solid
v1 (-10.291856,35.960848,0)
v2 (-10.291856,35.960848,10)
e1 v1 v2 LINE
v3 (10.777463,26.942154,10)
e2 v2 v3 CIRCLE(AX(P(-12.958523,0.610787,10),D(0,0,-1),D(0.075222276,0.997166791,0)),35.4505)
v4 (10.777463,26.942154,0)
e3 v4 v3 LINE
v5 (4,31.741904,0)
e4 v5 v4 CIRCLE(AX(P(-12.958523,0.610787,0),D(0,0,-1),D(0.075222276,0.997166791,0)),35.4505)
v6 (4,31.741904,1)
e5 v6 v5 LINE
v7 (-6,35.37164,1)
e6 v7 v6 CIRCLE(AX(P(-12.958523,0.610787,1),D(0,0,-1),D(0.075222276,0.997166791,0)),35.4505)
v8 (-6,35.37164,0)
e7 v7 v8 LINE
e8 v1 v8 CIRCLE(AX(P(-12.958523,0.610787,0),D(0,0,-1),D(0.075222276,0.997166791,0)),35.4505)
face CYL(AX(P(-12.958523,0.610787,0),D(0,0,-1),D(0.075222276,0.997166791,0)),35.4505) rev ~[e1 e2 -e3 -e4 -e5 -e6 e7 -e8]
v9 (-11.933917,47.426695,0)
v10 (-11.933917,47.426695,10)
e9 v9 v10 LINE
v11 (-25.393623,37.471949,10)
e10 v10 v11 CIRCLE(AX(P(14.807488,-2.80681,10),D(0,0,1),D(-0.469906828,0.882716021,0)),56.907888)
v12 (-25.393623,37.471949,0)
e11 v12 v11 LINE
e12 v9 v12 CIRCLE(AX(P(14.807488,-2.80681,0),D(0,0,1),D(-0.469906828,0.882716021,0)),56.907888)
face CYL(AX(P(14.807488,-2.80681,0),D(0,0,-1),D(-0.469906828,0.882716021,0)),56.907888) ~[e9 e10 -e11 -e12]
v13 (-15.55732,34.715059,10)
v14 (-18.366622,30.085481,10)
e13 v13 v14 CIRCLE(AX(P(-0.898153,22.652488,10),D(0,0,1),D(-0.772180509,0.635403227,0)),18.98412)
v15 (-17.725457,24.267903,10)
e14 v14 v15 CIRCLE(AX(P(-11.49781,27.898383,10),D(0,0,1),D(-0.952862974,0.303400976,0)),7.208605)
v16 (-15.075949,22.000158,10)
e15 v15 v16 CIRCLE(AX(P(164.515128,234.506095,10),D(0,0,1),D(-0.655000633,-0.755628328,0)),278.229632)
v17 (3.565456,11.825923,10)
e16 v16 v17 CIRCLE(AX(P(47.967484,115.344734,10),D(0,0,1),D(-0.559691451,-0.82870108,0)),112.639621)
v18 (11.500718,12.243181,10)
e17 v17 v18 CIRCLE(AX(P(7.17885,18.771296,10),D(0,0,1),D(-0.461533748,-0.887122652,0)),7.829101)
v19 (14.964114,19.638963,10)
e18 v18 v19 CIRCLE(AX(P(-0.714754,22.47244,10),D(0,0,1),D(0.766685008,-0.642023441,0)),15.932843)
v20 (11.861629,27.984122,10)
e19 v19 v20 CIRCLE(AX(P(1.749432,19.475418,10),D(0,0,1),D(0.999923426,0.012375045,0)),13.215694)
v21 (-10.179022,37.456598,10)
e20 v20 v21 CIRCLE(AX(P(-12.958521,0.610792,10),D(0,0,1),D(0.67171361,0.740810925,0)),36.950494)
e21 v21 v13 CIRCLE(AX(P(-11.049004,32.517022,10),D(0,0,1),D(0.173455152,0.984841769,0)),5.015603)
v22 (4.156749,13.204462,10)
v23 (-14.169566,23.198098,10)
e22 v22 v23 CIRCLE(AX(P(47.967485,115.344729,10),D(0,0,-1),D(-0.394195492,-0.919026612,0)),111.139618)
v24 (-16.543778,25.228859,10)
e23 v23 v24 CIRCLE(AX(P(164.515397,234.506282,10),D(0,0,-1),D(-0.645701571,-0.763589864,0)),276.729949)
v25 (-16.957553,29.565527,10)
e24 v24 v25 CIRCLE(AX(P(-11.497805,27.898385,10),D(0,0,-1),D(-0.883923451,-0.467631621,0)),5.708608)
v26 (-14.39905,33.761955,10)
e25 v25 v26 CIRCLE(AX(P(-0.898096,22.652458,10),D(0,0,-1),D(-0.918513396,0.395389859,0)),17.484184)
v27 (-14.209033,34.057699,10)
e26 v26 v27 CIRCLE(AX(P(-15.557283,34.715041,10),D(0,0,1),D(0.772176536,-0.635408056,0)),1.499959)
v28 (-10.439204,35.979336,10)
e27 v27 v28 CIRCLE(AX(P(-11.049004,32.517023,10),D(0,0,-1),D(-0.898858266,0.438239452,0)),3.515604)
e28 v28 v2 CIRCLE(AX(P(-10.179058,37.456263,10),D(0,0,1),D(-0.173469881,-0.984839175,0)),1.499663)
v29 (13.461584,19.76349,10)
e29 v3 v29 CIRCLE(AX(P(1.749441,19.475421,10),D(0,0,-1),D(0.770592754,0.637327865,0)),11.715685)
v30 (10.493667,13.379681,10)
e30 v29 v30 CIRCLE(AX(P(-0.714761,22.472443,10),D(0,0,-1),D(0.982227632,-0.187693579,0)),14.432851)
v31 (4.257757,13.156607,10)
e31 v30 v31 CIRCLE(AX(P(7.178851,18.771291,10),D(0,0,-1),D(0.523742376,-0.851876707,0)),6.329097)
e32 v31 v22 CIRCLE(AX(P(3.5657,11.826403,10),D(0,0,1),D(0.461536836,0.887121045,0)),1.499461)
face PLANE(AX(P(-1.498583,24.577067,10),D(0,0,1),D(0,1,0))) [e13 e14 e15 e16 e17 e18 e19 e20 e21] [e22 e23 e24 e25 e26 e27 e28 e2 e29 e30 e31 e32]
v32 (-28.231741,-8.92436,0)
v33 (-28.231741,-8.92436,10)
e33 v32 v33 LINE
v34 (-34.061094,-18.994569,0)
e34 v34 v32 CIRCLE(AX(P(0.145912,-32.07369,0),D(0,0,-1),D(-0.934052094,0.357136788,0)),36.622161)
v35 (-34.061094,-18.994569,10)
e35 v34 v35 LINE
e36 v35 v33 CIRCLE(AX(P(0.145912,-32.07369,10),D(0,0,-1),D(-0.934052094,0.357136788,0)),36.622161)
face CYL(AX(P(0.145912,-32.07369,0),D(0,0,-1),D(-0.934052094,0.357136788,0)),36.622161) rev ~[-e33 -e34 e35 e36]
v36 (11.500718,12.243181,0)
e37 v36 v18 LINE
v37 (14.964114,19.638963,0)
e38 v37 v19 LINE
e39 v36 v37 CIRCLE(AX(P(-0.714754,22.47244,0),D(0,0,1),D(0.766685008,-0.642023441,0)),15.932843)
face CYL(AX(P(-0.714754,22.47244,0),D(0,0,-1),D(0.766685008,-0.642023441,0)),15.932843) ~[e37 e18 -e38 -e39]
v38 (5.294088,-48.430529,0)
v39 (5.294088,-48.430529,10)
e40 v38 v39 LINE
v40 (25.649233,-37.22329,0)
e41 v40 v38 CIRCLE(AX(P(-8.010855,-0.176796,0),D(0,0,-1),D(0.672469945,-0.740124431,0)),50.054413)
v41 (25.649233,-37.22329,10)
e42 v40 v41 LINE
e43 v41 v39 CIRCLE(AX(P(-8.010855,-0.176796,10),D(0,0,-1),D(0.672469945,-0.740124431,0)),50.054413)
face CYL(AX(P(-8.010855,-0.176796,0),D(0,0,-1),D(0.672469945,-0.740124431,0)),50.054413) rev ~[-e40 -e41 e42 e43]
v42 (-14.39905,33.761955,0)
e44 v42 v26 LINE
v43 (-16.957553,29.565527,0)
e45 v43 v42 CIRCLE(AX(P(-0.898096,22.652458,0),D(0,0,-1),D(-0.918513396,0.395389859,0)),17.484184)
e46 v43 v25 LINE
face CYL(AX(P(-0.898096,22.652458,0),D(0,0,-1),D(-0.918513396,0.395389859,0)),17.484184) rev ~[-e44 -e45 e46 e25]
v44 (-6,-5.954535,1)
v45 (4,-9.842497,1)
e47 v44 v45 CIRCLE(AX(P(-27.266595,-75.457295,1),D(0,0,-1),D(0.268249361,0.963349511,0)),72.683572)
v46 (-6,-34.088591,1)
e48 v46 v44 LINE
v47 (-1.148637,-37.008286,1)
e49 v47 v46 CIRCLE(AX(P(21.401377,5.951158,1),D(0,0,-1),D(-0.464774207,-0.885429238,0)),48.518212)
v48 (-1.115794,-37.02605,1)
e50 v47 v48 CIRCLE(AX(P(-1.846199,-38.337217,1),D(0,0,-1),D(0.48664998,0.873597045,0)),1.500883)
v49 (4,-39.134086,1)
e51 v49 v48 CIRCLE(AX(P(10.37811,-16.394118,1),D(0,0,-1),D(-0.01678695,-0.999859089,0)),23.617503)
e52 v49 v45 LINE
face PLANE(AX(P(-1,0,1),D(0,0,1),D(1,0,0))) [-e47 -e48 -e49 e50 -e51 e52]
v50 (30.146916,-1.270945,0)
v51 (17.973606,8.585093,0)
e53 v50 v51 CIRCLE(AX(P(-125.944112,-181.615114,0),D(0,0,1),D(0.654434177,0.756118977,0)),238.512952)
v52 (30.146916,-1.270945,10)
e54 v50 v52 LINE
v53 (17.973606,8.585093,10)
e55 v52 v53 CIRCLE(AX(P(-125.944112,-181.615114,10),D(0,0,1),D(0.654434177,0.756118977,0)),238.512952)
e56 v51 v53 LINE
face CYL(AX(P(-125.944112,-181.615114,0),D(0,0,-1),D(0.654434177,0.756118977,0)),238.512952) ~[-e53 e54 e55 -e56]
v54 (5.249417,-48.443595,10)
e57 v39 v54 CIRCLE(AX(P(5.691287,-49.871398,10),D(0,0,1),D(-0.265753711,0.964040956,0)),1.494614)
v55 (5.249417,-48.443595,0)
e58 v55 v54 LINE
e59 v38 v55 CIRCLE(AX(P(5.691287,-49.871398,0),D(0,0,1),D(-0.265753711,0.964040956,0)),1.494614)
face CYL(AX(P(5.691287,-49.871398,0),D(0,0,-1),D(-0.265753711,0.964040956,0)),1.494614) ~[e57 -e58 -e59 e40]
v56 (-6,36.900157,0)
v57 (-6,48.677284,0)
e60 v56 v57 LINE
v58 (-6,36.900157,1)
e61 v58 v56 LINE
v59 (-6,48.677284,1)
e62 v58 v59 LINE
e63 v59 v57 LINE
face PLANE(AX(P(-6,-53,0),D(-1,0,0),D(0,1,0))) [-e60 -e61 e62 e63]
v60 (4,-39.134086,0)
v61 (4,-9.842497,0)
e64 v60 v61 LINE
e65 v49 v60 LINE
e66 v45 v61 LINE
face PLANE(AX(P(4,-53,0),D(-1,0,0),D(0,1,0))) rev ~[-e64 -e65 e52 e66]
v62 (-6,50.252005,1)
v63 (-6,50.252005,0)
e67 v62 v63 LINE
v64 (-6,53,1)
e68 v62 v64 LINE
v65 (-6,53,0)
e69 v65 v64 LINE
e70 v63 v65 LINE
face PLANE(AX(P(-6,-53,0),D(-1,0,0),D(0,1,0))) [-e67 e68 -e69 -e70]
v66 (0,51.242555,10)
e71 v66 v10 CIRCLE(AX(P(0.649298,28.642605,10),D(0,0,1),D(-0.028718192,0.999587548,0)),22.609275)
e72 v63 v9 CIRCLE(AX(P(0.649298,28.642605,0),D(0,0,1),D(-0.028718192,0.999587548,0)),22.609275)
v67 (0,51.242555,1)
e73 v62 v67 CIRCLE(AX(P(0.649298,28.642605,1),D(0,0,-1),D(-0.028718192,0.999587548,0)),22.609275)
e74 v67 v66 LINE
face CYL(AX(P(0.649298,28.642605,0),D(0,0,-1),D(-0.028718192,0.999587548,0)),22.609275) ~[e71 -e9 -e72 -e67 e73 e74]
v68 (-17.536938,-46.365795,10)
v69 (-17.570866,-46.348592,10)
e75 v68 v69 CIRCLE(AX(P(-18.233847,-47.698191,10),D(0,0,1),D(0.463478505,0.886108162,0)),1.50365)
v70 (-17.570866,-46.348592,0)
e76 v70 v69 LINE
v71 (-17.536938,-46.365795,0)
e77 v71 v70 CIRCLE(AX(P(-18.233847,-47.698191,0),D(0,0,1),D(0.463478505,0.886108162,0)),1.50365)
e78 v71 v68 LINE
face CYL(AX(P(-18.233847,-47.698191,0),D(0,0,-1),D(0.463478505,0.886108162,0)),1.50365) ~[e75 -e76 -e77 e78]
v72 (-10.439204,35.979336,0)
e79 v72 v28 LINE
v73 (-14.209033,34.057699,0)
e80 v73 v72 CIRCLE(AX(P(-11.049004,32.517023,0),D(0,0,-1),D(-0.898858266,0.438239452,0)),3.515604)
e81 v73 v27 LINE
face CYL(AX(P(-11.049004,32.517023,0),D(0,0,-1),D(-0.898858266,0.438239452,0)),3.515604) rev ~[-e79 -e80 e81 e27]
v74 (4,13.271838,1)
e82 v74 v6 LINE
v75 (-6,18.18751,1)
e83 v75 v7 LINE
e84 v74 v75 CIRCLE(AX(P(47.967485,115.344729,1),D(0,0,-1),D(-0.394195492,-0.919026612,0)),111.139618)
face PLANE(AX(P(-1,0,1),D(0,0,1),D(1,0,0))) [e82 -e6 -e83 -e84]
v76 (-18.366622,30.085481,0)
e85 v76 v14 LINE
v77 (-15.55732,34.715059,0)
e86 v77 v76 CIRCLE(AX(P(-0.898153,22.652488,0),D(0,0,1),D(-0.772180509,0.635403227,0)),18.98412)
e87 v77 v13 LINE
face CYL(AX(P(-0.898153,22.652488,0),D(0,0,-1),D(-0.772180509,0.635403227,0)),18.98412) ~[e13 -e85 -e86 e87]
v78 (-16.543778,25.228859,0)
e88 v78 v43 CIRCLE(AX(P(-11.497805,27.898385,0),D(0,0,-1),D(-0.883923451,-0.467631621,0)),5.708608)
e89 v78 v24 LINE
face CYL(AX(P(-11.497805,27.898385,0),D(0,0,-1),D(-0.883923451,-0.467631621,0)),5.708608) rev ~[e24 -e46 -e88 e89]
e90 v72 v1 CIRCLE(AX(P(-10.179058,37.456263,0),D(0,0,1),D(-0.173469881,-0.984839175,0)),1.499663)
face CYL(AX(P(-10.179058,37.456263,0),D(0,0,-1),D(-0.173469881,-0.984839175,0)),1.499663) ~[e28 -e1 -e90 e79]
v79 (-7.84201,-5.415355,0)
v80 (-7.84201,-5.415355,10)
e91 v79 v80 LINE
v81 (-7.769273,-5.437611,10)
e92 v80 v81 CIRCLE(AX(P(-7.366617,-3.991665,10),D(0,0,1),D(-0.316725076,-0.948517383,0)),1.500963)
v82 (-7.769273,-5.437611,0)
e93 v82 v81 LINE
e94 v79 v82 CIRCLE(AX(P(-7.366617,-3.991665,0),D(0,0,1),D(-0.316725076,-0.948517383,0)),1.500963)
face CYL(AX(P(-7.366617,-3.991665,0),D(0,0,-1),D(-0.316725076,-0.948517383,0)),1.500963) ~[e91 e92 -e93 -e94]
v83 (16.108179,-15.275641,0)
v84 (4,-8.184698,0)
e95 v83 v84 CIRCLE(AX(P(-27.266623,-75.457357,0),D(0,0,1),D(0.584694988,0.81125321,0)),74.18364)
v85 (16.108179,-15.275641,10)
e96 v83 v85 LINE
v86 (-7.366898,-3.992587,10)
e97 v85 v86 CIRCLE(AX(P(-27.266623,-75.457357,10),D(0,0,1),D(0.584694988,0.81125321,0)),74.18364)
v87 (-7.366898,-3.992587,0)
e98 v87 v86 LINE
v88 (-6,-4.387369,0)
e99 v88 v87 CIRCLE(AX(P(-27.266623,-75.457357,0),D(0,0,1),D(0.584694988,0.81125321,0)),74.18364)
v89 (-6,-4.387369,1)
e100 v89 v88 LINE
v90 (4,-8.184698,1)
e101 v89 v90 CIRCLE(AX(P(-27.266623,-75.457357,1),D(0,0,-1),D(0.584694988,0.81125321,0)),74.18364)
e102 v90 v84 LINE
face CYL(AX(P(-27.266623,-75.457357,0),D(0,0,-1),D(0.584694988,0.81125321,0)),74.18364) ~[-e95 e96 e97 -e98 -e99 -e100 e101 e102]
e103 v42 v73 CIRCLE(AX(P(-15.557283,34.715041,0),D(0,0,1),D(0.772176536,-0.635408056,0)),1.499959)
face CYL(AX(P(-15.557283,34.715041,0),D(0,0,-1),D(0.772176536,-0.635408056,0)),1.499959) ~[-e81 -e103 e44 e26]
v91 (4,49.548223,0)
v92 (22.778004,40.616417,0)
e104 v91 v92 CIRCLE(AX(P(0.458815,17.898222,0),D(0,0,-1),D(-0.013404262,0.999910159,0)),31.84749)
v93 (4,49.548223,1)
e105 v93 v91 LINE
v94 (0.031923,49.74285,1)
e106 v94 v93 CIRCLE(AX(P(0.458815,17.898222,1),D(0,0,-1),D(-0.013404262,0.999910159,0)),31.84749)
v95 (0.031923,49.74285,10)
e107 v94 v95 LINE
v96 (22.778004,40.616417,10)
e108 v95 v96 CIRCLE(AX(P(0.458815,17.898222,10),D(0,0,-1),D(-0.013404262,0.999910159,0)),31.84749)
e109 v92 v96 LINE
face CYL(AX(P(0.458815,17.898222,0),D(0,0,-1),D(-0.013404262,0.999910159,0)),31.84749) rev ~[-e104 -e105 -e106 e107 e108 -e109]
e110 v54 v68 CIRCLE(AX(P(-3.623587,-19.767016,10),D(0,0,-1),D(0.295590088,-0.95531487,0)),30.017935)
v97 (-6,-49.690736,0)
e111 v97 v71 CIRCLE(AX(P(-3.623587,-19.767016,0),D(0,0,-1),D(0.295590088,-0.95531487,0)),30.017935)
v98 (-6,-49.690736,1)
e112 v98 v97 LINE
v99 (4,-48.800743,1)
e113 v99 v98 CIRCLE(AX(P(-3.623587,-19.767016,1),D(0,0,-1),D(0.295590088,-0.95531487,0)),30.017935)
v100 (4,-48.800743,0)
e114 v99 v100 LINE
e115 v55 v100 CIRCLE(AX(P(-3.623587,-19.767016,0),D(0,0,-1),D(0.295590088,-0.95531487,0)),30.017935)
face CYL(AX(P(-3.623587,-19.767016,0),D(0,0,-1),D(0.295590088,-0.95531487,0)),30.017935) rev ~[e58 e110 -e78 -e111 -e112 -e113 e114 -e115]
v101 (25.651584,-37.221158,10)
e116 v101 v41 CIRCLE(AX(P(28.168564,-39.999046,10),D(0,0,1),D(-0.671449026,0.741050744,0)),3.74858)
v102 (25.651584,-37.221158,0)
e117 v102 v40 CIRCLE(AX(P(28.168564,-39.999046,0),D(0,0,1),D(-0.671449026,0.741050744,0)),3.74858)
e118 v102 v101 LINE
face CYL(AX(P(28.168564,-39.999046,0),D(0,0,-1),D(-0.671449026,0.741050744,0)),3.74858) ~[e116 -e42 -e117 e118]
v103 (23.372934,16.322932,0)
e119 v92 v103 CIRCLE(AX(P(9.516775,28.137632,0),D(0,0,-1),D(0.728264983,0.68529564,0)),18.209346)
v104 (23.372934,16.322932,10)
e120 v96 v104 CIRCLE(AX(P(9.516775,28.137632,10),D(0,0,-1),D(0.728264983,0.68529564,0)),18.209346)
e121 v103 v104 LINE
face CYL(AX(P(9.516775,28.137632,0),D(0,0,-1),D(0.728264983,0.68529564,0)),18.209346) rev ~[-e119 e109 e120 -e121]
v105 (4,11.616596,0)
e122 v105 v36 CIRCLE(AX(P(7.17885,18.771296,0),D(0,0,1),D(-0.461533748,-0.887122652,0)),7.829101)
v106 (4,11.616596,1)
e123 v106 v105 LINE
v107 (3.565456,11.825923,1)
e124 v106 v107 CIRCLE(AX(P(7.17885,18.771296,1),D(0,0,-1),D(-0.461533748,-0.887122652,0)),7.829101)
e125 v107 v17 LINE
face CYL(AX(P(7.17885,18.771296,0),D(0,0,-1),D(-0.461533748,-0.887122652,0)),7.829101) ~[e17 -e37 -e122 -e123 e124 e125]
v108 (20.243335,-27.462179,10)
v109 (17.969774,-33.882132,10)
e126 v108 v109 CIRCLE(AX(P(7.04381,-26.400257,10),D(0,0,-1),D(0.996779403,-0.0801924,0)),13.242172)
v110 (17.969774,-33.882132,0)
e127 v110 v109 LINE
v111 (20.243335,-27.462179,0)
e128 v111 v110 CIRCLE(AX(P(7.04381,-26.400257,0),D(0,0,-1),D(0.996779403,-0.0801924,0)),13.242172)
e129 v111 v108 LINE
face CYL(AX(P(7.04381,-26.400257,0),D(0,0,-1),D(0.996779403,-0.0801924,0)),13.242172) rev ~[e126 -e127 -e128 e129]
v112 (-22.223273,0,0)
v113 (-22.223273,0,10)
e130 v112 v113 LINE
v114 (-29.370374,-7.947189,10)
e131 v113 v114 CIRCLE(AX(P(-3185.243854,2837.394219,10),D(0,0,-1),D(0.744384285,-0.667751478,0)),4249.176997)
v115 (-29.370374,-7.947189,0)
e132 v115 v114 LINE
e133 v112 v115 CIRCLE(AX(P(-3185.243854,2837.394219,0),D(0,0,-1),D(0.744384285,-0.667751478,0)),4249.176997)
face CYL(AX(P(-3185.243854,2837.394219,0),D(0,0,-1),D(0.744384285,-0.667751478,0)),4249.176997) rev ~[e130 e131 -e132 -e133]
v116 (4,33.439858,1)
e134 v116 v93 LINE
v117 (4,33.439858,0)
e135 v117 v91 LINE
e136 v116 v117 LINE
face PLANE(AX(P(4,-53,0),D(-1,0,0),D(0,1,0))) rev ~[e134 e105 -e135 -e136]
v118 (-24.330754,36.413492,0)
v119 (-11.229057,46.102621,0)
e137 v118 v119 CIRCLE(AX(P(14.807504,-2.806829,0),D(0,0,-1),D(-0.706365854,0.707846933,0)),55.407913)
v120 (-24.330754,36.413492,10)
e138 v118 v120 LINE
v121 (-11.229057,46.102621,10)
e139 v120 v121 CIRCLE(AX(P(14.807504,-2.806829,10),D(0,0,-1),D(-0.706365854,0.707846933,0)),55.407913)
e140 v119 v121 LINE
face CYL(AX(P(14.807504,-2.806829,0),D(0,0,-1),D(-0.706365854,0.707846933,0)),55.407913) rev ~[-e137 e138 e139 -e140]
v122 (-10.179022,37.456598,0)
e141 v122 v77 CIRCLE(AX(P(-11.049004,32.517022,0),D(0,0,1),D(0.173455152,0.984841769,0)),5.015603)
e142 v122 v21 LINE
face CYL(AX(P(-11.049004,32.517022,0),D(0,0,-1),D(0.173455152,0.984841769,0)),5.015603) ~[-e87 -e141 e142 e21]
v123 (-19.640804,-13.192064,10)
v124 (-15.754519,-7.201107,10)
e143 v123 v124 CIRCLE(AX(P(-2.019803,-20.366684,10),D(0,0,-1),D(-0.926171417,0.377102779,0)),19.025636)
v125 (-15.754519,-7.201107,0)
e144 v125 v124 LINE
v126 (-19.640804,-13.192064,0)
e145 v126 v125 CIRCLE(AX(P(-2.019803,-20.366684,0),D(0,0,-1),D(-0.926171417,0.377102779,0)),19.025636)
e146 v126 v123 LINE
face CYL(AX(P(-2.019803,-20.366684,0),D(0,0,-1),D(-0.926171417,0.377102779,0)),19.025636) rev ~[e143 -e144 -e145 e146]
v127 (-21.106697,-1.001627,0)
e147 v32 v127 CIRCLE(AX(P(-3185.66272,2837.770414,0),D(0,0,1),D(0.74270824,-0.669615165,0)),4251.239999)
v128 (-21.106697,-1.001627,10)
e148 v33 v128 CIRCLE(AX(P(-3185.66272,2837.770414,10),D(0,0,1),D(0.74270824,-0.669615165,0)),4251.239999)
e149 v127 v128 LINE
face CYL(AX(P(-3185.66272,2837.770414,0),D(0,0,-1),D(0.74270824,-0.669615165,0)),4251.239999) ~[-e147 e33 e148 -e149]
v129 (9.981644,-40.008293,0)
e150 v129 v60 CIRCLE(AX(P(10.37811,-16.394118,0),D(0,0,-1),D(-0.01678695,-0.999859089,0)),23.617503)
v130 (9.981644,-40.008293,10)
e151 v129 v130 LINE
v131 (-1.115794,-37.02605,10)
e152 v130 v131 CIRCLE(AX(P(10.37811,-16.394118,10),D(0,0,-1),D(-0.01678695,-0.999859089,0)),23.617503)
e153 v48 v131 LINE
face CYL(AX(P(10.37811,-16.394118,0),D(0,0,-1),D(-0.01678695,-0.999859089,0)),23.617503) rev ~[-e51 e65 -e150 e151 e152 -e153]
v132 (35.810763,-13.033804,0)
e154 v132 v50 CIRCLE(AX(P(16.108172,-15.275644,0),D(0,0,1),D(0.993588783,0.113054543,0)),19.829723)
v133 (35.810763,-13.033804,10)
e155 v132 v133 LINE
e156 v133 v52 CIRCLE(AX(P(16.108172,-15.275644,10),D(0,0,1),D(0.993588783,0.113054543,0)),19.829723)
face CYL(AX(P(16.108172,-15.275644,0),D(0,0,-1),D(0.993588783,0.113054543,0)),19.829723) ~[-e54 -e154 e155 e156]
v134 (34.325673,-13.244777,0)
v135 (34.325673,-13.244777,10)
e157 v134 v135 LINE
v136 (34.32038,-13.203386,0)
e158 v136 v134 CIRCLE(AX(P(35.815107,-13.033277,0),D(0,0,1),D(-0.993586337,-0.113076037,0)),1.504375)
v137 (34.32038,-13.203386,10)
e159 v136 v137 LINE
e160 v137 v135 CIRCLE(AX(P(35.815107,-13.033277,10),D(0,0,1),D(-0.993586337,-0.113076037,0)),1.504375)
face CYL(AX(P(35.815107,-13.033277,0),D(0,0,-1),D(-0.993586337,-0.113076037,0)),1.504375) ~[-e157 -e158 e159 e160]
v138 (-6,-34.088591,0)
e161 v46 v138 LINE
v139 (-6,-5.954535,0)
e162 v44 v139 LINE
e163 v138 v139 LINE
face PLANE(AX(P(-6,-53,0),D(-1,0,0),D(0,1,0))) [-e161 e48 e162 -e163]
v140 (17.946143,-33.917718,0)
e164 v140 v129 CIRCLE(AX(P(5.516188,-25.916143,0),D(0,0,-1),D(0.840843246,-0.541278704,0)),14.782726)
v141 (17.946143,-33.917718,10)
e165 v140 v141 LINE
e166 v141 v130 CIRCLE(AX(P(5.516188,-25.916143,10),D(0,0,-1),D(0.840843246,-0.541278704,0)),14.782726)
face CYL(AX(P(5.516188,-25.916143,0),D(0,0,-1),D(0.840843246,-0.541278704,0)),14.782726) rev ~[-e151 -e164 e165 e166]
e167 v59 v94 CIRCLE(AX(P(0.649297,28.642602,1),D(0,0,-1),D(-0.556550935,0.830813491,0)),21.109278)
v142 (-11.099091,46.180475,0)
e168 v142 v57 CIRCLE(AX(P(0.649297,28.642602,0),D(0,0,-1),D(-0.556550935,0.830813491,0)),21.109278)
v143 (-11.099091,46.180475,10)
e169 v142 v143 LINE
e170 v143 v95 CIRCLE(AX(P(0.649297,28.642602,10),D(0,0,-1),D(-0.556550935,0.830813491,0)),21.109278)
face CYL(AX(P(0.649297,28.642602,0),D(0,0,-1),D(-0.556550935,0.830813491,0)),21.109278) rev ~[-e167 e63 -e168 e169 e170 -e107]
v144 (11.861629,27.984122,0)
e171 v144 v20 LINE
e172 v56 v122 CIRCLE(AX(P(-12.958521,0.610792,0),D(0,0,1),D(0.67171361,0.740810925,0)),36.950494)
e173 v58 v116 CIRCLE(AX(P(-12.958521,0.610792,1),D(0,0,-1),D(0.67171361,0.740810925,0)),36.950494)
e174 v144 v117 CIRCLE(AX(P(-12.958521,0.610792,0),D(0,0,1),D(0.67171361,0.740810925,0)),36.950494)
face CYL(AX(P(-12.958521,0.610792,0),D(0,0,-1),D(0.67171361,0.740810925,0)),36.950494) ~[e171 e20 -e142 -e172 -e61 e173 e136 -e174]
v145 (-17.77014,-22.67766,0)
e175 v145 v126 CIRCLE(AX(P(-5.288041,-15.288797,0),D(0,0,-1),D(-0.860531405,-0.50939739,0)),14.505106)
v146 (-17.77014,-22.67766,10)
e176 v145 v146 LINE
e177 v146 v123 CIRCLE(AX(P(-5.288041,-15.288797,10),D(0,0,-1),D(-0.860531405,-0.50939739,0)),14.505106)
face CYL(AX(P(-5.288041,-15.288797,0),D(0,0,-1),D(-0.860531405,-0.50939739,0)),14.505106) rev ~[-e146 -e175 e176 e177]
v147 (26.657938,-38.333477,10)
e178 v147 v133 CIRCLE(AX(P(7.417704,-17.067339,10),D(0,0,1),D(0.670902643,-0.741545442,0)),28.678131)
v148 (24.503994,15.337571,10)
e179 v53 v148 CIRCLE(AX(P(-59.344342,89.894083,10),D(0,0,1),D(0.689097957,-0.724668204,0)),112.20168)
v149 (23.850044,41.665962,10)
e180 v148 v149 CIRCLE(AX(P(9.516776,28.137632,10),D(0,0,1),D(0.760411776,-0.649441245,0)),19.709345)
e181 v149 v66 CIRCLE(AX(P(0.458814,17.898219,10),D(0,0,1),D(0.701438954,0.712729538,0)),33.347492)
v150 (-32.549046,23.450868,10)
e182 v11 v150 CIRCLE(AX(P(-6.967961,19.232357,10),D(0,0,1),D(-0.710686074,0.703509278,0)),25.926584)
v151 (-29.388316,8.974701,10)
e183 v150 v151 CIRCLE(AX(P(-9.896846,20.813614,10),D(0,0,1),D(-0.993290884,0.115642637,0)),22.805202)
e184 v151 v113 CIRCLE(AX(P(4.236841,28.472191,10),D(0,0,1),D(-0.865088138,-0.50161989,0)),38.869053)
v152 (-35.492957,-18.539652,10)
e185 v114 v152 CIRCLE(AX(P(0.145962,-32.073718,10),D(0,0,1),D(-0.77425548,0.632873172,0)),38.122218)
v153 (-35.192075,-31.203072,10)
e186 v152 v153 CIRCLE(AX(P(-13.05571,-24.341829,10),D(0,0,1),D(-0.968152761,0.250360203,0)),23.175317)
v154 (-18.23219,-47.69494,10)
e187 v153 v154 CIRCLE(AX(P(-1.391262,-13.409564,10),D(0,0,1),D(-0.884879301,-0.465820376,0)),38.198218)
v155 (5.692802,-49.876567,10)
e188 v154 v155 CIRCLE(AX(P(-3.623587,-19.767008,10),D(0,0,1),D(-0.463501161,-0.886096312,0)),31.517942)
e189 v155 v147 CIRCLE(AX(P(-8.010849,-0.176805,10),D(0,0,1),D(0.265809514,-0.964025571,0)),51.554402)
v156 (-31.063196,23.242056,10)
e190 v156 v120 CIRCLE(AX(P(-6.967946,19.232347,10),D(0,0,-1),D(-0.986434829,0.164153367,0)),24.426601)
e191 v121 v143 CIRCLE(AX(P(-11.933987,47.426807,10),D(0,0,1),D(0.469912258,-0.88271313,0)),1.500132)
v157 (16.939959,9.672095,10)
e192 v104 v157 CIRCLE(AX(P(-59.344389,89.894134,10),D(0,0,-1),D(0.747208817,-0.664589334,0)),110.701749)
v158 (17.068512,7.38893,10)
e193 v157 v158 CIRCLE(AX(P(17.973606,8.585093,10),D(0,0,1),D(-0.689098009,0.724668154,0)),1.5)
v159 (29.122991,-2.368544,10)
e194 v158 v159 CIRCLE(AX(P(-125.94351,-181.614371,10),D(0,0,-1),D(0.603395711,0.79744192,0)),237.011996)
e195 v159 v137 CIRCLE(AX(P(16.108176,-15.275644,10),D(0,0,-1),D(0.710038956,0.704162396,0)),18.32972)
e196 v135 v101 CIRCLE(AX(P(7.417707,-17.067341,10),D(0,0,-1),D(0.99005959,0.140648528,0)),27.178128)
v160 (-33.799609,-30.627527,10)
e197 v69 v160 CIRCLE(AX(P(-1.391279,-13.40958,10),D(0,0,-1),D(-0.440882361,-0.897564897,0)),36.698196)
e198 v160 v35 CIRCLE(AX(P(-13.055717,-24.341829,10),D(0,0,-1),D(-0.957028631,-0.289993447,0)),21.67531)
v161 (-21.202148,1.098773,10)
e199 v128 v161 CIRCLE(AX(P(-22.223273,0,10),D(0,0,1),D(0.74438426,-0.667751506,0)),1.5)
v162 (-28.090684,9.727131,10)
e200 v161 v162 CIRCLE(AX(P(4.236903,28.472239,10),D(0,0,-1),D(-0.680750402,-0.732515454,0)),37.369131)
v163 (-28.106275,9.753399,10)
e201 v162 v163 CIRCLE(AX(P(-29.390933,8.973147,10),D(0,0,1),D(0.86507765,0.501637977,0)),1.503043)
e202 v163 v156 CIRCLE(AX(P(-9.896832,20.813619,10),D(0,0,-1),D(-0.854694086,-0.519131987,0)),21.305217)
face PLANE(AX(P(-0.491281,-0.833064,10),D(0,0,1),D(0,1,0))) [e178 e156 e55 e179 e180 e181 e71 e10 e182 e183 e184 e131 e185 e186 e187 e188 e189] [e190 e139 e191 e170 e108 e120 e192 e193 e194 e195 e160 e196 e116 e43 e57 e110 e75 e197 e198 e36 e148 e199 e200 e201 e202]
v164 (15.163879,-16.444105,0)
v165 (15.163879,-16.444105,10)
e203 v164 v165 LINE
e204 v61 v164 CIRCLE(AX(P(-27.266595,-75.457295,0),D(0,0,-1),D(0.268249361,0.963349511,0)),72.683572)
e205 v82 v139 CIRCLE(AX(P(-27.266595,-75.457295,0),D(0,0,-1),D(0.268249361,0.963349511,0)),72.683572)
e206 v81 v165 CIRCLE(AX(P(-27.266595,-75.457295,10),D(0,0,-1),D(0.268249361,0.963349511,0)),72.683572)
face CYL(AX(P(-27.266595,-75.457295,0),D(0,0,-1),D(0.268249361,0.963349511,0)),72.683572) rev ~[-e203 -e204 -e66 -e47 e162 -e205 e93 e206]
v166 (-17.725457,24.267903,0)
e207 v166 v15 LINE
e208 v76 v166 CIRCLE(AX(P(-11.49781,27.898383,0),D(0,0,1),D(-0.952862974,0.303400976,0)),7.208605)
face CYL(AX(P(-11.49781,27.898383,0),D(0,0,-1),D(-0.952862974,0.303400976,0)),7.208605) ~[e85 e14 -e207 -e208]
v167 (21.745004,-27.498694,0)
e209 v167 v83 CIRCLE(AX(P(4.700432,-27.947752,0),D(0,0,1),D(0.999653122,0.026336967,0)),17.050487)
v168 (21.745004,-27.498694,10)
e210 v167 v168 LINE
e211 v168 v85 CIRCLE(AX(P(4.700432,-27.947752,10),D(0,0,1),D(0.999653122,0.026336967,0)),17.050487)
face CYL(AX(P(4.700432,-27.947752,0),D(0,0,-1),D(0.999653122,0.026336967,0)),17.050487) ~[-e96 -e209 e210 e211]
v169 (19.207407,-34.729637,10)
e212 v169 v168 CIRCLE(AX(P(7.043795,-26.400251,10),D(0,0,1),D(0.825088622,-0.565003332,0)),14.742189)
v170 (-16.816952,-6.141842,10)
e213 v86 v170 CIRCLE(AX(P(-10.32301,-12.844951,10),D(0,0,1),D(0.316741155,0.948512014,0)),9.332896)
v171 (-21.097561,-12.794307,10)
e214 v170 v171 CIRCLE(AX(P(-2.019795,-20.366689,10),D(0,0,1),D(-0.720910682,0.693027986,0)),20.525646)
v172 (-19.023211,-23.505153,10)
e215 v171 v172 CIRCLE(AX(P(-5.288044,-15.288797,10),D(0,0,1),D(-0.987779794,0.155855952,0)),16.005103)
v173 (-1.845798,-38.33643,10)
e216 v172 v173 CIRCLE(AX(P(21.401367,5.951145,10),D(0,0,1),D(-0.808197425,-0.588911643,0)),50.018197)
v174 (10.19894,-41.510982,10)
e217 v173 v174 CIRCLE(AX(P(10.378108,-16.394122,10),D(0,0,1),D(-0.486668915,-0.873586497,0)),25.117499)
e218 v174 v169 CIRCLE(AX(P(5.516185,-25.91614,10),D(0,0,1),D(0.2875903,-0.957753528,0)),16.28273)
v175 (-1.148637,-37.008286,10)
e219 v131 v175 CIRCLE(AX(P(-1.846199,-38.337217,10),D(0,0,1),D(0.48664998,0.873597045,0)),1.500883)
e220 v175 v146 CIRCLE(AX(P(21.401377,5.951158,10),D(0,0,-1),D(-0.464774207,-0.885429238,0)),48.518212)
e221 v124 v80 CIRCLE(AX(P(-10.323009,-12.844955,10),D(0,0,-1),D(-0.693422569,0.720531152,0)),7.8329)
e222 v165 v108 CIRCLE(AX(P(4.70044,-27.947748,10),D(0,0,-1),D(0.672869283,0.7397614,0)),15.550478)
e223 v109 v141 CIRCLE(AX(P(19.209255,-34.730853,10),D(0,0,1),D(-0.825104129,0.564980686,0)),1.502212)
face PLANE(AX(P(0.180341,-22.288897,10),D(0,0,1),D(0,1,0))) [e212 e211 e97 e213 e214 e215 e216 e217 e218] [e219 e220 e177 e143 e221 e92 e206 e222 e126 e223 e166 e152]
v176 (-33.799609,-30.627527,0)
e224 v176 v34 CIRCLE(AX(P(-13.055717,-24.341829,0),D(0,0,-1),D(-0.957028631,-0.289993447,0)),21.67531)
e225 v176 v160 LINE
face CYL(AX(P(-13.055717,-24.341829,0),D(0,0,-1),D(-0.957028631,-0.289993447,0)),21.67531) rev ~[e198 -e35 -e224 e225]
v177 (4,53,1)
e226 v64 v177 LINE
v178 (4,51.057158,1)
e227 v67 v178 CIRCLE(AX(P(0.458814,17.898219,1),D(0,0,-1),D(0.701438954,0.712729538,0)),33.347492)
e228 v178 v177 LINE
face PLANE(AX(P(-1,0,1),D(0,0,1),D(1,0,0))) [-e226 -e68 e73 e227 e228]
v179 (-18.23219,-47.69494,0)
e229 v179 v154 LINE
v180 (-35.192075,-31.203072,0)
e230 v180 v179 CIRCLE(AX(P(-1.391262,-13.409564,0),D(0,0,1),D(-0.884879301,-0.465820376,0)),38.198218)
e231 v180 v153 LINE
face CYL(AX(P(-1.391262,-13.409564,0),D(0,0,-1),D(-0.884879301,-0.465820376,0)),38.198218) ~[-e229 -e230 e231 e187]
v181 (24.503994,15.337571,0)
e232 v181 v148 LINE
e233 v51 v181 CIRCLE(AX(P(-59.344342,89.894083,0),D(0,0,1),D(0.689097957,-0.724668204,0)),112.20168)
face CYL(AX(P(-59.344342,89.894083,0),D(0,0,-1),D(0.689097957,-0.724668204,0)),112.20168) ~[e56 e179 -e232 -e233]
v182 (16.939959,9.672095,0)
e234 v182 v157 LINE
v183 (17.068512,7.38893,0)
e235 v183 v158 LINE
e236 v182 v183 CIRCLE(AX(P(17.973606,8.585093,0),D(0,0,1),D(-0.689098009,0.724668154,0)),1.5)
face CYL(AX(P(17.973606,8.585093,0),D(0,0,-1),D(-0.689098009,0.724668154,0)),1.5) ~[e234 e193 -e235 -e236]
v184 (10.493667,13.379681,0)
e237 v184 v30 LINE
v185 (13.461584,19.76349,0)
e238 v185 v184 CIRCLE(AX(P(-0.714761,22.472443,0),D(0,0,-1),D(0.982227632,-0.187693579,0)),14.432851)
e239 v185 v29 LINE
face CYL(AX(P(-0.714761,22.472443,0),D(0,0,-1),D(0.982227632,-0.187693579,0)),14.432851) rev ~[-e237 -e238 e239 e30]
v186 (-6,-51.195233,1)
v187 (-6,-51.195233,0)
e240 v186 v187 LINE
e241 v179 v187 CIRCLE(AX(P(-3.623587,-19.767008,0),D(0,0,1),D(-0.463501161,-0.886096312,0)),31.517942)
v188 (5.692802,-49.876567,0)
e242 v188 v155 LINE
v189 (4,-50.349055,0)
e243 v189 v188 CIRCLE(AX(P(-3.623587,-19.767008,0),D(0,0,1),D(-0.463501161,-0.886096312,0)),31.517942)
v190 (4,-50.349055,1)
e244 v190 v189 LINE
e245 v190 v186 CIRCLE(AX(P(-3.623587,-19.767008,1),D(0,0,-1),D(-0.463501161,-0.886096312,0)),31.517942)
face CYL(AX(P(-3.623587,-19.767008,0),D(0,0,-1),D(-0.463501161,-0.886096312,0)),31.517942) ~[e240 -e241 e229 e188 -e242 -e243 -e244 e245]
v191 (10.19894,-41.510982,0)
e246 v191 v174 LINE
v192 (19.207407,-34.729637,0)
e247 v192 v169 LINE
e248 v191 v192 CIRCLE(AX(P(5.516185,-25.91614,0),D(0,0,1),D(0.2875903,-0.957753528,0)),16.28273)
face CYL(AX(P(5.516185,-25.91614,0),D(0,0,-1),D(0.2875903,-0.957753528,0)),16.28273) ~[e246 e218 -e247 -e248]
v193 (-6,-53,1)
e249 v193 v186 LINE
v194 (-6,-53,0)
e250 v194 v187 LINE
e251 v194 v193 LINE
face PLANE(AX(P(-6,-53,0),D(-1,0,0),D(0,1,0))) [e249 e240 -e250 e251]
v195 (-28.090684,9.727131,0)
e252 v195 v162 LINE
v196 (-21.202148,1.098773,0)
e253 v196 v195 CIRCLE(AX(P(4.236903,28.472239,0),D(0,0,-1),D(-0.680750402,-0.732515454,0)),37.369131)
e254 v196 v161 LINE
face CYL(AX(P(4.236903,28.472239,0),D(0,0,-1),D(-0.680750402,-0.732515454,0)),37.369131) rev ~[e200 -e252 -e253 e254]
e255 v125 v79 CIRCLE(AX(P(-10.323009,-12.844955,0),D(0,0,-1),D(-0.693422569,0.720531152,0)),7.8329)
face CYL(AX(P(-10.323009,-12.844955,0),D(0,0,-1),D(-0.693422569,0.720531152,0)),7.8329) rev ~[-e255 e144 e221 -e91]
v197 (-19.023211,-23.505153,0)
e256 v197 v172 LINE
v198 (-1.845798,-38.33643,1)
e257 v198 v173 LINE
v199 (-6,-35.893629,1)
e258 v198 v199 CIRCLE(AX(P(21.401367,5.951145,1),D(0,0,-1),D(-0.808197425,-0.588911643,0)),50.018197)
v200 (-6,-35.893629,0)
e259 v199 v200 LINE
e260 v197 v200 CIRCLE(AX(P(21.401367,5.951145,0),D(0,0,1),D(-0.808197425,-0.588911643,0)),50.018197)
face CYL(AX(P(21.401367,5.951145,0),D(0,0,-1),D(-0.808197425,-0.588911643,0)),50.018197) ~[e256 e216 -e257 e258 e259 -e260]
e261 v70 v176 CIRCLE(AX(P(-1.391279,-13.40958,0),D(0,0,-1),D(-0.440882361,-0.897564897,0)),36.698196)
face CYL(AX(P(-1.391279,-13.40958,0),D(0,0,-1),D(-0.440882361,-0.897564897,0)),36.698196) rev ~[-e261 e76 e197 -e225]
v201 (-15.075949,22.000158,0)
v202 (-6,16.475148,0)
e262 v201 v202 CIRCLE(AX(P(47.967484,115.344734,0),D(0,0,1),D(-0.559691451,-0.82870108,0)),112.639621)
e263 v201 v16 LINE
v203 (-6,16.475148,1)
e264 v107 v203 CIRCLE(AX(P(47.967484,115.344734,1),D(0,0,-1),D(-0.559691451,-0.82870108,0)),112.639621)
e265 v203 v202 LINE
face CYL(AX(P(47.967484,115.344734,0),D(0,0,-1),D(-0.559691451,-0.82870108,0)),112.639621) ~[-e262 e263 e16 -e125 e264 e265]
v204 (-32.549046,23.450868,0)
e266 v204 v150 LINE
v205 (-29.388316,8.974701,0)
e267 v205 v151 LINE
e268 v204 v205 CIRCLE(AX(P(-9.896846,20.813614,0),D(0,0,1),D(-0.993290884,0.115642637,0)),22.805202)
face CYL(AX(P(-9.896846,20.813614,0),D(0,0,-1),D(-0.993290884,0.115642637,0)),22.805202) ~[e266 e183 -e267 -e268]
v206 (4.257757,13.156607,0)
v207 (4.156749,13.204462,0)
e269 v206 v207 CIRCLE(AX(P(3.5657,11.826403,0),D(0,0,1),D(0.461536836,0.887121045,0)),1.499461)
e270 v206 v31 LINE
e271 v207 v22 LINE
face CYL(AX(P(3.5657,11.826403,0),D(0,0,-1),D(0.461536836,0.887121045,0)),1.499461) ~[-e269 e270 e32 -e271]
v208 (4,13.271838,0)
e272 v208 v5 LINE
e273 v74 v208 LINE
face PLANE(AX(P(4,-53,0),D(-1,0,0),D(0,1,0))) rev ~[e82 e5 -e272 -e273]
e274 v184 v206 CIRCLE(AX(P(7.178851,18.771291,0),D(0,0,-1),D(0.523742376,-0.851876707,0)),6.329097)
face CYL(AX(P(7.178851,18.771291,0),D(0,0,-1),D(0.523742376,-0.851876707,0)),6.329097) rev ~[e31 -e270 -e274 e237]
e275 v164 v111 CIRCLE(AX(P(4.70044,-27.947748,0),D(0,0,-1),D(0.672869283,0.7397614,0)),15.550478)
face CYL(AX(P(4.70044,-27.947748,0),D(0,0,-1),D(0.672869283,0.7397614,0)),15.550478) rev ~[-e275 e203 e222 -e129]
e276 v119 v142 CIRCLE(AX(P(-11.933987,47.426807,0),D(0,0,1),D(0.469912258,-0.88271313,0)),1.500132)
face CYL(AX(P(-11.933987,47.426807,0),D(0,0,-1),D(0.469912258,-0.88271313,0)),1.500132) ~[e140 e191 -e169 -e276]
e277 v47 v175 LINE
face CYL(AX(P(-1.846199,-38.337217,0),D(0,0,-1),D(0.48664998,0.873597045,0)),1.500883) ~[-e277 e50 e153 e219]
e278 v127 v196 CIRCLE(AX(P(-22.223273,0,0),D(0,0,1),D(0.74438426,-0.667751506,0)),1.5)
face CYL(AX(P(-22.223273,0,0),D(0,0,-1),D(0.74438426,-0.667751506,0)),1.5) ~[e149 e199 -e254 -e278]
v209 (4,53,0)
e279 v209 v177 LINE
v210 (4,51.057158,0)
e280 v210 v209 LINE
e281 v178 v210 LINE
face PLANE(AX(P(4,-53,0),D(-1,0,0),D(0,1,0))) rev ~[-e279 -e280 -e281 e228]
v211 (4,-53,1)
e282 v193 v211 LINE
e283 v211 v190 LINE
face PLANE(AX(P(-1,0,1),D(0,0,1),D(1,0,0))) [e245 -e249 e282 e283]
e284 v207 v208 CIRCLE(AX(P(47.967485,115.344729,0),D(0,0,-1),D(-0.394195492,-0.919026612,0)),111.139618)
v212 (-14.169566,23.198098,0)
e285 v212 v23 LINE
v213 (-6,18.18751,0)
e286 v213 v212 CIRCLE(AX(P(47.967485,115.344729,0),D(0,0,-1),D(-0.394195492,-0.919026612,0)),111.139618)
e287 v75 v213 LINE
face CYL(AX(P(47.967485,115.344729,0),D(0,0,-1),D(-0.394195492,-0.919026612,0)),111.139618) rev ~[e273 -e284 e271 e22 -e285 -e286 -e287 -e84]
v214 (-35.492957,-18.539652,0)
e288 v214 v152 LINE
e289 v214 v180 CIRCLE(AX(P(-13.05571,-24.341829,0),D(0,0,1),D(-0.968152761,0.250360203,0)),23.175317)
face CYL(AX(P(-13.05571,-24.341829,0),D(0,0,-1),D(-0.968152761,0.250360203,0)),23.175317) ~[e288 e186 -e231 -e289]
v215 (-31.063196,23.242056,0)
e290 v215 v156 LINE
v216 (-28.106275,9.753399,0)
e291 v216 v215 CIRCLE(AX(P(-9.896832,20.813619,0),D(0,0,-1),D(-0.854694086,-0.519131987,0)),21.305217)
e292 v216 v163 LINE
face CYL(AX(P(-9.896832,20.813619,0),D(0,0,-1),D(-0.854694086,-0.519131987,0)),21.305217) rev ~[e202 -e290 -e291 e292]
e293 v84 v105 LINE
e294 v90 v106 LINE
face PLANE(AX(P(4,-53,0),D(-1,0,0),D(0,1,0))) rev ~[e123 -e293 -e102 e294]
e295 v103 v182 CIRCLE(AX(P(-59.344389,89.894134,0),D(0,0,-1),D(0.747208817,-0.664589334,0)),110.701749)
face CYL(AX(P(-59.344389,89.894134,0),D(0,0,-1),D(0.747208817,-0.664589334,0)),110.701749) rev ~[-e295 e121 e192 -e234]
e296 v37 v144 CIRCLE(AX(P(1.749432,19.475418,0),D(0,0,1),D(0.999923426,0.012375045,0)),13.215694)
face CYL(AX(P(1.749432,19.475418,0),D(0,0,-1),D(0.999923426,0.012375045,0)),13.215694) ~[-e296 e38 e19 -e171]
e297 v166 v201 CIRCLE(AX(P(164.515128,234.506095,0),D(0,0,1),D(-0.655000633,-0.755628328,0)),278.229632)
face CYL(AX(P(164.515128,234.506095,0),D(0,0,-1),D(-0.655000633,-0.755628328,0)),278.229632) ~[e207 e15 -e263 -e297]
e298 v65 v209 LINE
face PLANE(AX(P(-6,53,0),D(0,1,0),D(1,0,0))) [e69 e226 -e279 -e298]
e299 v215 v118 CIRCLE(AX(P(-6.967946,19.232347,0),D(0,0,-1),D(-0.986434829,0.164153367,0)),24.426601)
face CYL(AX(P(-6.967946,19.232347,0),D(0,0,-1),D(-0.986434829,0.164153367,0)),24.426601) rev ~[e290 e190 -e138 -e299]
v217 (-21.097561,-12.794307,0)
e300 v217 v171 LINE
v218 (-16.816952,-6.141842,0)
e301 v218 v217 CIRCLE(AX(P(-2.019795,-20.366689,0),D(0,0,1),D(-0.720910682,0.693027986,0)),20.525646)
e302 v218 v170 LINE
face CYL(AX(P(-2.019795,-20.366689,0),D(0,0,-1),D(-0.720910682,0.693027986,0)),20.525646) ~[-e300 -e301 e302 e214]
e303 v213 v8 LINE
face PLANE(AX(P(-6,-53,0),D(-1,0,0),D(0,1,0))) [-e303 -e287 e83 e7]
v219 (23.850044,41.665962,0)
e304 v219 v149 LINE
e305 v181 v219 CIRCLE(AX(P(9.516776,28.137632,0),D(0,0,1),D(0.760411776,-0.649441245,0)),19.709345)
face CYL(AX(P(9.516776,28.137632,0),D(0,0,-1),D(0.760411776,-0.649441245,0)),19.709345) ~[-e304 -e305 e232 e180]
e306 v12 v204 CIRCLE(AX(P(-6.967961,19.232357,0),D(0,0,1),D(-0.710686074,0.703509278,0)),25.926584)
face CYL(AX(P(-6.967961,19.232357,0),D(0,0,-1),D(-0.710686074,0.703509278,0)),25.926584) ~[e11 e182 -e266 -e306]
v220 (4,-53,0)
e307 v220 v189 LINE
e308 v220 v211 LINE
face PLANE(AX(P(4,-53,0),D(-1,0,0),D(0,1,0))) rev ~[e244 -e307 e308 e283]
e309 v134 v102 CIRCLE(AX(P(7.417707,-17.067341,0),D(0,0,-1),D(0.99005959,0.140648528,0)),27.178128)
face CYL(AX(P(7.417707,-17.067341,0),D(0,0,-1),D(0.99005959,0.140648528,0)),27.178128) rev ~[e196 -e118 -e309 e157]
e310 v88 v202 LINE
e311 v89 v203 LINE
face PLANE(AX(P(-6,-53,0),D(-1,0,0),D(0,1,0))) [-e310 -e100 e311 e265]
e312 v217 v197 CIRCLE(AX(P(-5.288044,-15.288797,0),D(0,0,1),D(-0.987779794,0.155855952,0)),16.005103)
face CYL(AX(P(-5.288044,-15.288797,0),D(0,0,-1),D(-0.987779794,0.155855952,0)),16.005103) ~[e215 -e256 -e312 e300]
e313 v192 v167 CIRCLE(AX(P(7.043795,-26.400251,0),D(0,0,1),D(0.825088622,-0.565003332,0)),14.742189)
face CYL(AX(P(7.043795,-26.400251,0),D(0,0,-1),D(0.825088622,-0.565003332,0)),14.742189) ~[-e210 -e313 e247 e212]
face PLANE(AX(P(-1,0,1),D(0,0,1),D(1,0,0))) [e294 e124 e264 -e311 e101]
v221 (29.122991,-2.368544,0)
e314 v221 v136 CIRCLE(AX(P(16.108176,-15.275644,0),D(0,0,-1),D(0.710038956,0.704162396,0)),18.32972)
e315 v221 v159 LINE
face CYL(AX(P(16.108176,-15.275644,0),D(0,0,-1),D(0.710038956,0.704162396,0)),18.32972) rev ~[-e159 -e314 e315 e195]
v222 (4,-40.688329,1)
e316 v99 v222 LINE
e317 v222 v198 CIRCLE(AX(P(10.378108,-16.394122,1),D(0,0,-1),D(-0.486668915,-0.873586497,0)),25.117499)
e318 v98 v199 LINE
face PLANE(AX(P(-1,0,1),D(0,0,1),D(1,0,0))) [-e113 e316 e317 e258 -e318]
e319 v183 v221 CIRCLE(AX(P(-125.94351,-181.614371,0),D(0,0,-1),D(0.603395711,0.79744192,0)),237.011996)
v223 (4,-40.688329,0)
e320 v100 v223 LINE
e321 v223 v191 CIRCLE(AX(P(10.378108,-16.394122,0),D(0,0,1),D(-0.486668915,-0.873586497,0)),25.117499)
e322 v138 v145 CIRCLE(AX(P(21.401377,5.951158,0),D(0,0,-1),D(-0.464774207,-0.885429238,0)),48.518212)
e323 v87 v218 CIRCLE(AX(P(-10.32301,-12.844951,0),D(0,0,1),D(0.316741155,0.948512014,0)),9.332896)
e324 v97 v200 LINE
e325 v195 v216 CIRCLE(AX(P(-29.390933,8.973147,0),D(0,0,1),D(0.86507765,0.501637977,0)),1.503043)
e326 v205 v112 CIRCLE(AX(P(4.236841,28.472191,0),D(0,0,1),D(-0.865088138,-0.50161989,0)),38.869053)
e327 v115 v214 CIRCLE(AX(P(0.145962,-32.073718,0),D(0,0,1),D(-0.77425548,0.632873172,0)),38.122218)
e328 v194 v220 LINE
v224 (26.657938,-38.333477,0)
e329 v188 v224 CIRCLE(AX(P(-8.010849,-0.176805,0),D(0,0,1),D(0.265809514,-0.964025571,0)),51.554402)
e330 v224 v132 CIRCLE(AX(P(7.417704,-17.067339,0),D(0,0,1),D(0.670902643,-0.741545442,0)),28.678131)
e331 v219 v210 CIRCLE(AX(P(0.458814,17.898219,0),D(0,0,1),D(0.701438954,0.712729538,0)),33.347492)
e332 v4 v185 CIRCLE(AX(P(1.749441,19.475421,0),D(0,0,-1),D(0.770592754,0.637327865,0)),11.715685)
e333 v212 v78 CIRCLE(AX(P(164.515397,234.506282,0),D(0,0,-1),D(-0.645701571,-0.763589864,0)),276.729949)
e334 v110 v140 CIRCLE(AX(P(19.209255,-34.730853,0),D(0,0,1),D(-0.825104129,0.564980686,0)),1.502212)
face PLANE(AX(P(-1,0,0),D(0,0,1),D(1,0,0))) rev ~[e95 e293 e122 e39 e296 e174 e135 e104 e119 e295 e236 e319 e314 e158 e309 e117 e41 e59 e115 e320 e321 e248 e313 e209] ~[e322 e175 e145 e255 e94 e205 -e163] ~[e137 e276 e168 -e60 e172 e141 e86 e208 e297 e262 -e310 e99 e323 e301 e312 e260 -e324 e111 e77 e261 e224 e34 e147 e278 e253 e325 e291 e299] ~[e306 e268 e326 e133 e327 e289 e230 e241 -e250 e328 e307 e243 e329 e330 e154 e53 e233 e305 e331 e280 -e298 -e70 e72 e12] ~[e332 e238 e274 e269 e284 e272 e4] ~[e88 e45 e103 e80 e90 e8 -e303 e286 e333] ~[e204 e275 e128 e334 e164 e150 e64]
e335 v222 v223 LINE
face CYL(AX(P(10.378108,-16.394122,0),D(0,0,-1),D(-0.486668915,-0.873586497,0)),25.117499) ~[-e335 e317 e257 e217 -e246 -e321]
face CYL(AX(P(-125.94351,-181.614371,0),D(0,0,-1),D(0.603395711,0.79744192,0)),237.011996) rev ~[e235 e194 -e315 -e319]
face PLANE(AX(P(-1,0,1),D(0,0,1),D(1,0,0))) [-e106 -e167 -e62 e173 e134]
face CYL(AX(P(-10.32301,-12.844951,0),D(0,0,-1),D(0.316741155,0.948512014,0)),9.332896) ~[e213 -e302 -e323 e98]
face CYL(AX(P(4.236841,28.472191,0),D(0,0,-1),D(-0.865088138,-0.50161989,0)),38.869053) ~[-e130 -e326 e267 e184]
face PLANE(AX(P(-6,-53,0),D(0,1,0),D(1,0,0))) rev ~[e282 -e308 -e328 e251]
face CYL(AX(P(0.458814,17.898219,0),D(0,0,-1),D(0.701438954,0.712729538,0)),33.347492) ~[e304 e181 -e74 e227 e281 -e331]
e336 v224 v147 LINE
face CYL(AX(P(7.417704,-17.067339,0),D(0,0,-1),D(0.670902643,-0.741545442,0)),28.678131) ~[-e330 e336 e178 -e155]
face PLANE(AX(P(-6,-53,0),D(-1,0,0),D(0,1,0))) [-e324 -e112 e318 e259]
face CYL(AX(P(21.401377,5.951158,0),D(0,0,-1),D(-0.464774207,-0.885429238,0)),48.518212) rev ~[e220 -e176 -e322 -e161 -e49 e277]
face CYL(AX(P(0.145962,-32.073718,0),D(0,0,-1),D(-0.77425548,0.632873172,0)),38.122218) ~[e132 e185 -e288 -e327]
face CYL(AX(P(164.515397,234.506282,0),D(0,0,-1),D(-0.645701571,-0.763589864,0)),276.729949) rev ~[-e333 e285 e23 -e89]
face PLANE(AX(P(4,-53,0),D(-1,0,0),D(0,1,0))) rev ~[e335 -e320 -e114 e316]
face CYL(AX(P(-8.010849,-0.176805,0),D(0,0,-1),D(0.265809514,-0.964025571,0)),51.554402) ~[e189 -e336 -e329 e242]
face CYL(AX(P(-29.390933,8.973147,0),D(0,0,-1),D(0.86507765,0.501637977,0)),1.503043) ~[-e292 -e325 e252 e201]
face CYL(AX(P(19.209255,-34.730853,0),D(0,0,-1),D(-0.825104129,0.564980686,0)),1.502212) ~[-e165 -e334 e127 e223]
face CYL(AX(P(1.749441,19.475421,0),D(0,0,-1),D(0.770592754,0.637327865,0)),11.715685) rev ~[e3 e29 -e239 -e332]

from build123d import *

# Parameters (mm, degrees)
BOX_W         = 10
BOX_H         = 106
BOX_DEPTH     = 1
EXTRUDE_DEPTH = 10


with BuildPart() as cube:
    # Box → Box (new body)
    with BuildSketch(Plane(origin=(-6, -53, 0), x_dir=(1, 0, 0), z_dir=(0, 0, 1))):
        with Locations((5, 53)):
            Rectangle(BOX_W, BOX_H)
    extrude(amount=BOX_DEPTH)


with BuildPart() as fusion:
    # Offset2D → Extrude (new body)
    with BuildSketch(Plane(origin=(-0.426228, -0.837563, 0), x_dir=(0, 1, 0), z_dir=(0, 0, 1))):
        with BuildLine():
            ThreePointArc((42.503525, -24.276272), (49.68176, -13.31089), (52.080118, -0.426228))
            ThreePointArc((52.080118, -0.426228), (51.015355, 5.810333), (48.264258, 11.507689))
            ThreePointArc((48.264258, 11.507689), (43.784533, 18.605601), (38.309512, 24.967395))
            ThreePointArc((38.309512, 24.967395), (31.855149, 29.634938), (24.288431, 32.122818))
            ThreePointArc((24.288431, 32.122818), (16.786489, 31.750925), (9.812264, 28.962088))
            ThreePointArc((9.812264, 28.962088), (5.058836, 25.712847), (0.837563, 21.797045))
            ThreePointArc((0.837563, 21.797045), (-3.138279, 25.368097), (-7.109626, 28.944146))
            ThreePointArc((-7.109626, 28.944146), (-12.158639, 32.433141), (-17.702089, 35.066729))
            ThreePointArc((-17.702089, 35.066729), (-24.054754, 35.79826), (-30.365509, 34.765847))
            ThreePointArc((-30.365509, 34.765847), (-39.957434, 27.594753), (-46.857377, 17.805962))
            ThreePointArc((-46.857377, 17.805962), (-50.317164, 6.059483), (-49.039004, -6.11903))
            ThreePointArc((-49.039004, -6.11903), (-44.500868, -17.280695), (-37.495914, -27.084166))
            ThreePointArc((-37.495914, -27.084166), (-25.986015, -34.811524), (-12.196241, -36.236991))
            ThreePointArc((-12.196241, -36.236991), (-5.835332, -34.400867), (-0.433382, -30.573144))
            ThreePointArc((-0.433382, -30.573144), (4.594591, -24.567416), (9.422656, -18.399834))
            ThreePointArc((9.422656, -18.399834), (12.730523, -21.735725), (16.175134, -24.930222))
            ThreePointArc((16.175134, -24.930222), (29.464589, -29.646272), (42.503525, -24.276272))
        make_face()
        with BuildLine():
            ThreePointArc((50.580413, -0.458151), (48.292873, -12.744264), (41.45398, -23.204232))
            ThreePointArc((41.45398, -23.204232), (29.420995, -28.146891), (17.160495, -23.799162))
            ThreePointArc((17.160495, -23.799162), (13.767835, -20.652193), (10.509658, -17.366187))
            ThreePointArc((10.509658, -17.366187), (9.338332, -16.902206), (8.226493, -17.49474))
            ThreePointArc((8.226493, -17.49474), (3.446379, -23.60181), (-1.530981, -29.549219))
            ThreePointArc((-1.530981, -29.549219), (-6.510376, -33.061053), (-12.365823, -34.746608))
            ThreePointArc((-12.365823, -34.746608), (-12.386537, -34.749111), (-12.407214, -34.751901))
            ThreePointArc((-12.407214, -34.751901), (-25.475718, -33.400993), (-36.383595, -26.077812))
            ThreePointArc((-36.383595, -26.077812), (-36.384661, -26.076636), (-36.385727, -26.075461))
            ThreePointArc((-36.385727, -26.075461), (-43.186869, -16.557226), (-47.592966, -5.720316))
            ThreePointArc((-47.592966, -5.720316), (-47.599325, -5.69793), (-47.606032, -5.675645))
            ThreePointArc((-47.606032, -5.675645), (-48.823362, 5.923269), (-45.528232, 17.11071))
            ThreePointArc((-45.528232, 17.11071), (-45.519523, 17.12762), (-45.511029, 17.144638))
            ThreePointArc((-45.511029, 17.144638), (-38.930567, 26.499036), (-29.789964, 33.373381))
            ThreePointArc((-29.789964, 33.373381), (-23.99136, 34.299325), (-18.157006, 33.634866))
            ThreePointArc((-18.157006, 33.634866), (-12.888907, 31.122689), (-8.086797, 27.805513))
            ThreePointArc((-8.086797, 27.805513), (-4.127663, 24.240509), (-0.164064, 20.680469))
            ThreePointArc((-0.164064, 20.680469), (0.905659, 20.298592), (1.936336, 20.77592))
            ThreePointArc((1.936336, 20.77592), (5.994706, 24.540606), (10.564694, 27.664456))
            ThreePointArc((10.564694, 27.664456), (10.577868, 27.672185), (10.590962, 27.680047))
            ThreePointArc((10.590962, 27.680047), (17.089081, 30.281647), (24.079619, 30.636968))
            ThreePointArc((24.079619, 30.636968), (31.187217, 28.29176), (37.251055, 23.904526))
            ThreePointArc((37.251055, 23.904526), (42.579895, 17.711815), (46.940184, 10.802829))
            ThreePointArc((46.940184, 10.802829), (46.977469, 10.736863), (47.018038, 10.672863))
            ThreePointArc((47.018038, 10.672863), (49.584915, 5.358808), (50.580413, -0.458151))
        make_face(mode=Mode.SUBTRACT)
        with BuildLine():
            ThreePointArc((35.552622, 15.131092), (33.338518, 16.701666), (30.923044, 17.940394))
            ThreePointArc((30.923044, 17.940394), (27.946256, 18.236801), (25.105466, 17.299229))
            ThreePointArc((25.105466, 17.299229), (23.967442, 15.978028), (22.837721, 14.649721))
            ThreePointArc((22.837721, 14.649721), (17.31029, 5.569336), (12.663486, -3.991684))
            ThreePointArc((12.663486, -3.991684), (11.790559, -8.016187), (13.080744, -11.926946))
            ThreePointArc((13.080744, -11.926946), (16.552966, -14.14054), (20.476526, -15.390342))
            ThreePointArc((20.476526, -15.390342), (24.918231, -14.563002), (28.821685, -12.287857))
            ThreePointArc((28.821685, -12.287857), (35.396432, -2.057673), (38.294161, 9.752794))
            ThreePointArc((38.294161, 9.752794), (37.823131, 12.900577), (35.552622, 15.131092))
        make_face()
        with BuildLine():
            ThreePointArc((30.40309, 16.531325), (32.591653, 15.400263), (34.599518, 13.972822))
            ThreePointArc((34.599518, 13.972822), (34.741804, 13.86912), (34.895262, 13.782805))
            ThreePointArc((34.895262, 13.782805), (36.486738, 12.219363), (36.816899, 10.012976))
            ThreePointArc((36.816899, 10.012976), (36.80583, 9.939531), (36.798411, 9.865628))
            ThreePointArc((36.798411, 9.865628), (34.038666, -1.417946), (27.779717, -11.203691))
            ThreePointArc((27.779717, -11.203691), (24.416076, -13.149361), (20.601053, -13.887812))
            ThreePointArc((20.601053, -13.887812), (17.225415, -12.799054), (14.217244, -10.919895))
            ThreePointArc((14.217244, -10.919895), (13.283803, -7.831341), (13.99417, -4.683985))
            ThreePointArc((13.99417, -4.683985), (14.019039, -4.633927), (14.042025, -4.582977))
            ThreePointArc((14.042025, -4.582977), (18.607638, 4.815324), (24.035661, 13.743338))
            ThreePointArc((24.035661, 13.743338), (25.047691, 14.93331), (26.066422, 16.11755))
            ThreePointArc((26.066422, 16.11755), (28.193734, 16.754377), (30.40309, 16.531325))
        make_face(mode=Mode.SUBTRACT)
        with BuildLine():
            ThreePointArc((-5.304279, 16.390724), (-8.42234, 18.854547), (-11.956744, 20.671333))
            ThreePointArc((-11.956744, 20.671333), (-17.494369, 20.574952), (-22.66759, 18.596983))
            ThreePointArc((-22.66759, 18.596983), (-31.070315, 10.860543), (-37.498867, 1.41957))
            ThreePointArc((-37.498867, 1.41957), (-39.844627, -4.40289), (-40.673419, -10.625168))
            ThreePointArc((-40.673419, -10.625168), (-38.087415, -15.735136), (-33.892074, -19.633635))
            ThreePointArc((-33.892074, -19.633635), (-30.444372, -21.380497), (-26.661131, -22.171232))
            ThreePointArc((-26.661131, -22.171232), (-19.969831, -20.610018), (-14.438078, -16.534407))
            ThreePointArc((-14.438078, -16.534407), (-7.758227, -5.295928), (-3.155024, 6.94067))
            ThreePointArc((-3.155024, 6.94067), (-2.90689, 11.966537), (-5.304279, 16.390724))
        make_face()
        with BuildLine():
            ThreePointArc((-12.354501, 19.214576), (-9.175054, 17.555033), (-6.363544, 15.328291))
            ThreePointArc((-6.363544, 15.328291), (-4.366665, 11.621196), (-4.577792, 7.415782))
            ThreePointArc((-4.577792, 7.415782), (-4.589381, 7.379554), (-4.600048, 7.343045))
            ThreePointArc((-4.600048, 7.343045), (-9.092234, -4.608778), (-15.606542, -15.590107))
            ThreePointArc((-15.606542, -15.590107), (-20.599769, -19.248702), (-26.624616, -20.669563))
            ThreePointArc((-26.624616, -20.669563), (-29.983258, -19.952576), (-33.044569, -18.396002))
            ThreePointArc((-33.044569, -18.396002), (-33.062278, -18.38406), (-33.080155, -18.372371))
            ThreePointArc((-33.080155, -18.372371), (-36.821301, -14.922254), (-39.17073, -10.407872))
            ThreePointArc((-39.17073, -10.407872), (-38.364838, -4.675009), (-36.188487, 0.689566))
            ThreePointArc((-36.188487, 0.689566), (-36.179503, 0.705932), (-36.170723, 0.722409))
            ThreePointArc((-36.170723, 0.722409), (-29.95755, 9.85407), (-21.840097, 17.343912))
            ThreePointArc((-21.840097, 17.343912), (-17.257745, 19.092821), (-12.354501, 19.214576))
        make_face(mode=Mode.SUBTRACT)
    extrude(amount=EXTRUDE_DEPTH)

    # Fusion: union Cube
    add(cube.part)


solid = fusion.part
